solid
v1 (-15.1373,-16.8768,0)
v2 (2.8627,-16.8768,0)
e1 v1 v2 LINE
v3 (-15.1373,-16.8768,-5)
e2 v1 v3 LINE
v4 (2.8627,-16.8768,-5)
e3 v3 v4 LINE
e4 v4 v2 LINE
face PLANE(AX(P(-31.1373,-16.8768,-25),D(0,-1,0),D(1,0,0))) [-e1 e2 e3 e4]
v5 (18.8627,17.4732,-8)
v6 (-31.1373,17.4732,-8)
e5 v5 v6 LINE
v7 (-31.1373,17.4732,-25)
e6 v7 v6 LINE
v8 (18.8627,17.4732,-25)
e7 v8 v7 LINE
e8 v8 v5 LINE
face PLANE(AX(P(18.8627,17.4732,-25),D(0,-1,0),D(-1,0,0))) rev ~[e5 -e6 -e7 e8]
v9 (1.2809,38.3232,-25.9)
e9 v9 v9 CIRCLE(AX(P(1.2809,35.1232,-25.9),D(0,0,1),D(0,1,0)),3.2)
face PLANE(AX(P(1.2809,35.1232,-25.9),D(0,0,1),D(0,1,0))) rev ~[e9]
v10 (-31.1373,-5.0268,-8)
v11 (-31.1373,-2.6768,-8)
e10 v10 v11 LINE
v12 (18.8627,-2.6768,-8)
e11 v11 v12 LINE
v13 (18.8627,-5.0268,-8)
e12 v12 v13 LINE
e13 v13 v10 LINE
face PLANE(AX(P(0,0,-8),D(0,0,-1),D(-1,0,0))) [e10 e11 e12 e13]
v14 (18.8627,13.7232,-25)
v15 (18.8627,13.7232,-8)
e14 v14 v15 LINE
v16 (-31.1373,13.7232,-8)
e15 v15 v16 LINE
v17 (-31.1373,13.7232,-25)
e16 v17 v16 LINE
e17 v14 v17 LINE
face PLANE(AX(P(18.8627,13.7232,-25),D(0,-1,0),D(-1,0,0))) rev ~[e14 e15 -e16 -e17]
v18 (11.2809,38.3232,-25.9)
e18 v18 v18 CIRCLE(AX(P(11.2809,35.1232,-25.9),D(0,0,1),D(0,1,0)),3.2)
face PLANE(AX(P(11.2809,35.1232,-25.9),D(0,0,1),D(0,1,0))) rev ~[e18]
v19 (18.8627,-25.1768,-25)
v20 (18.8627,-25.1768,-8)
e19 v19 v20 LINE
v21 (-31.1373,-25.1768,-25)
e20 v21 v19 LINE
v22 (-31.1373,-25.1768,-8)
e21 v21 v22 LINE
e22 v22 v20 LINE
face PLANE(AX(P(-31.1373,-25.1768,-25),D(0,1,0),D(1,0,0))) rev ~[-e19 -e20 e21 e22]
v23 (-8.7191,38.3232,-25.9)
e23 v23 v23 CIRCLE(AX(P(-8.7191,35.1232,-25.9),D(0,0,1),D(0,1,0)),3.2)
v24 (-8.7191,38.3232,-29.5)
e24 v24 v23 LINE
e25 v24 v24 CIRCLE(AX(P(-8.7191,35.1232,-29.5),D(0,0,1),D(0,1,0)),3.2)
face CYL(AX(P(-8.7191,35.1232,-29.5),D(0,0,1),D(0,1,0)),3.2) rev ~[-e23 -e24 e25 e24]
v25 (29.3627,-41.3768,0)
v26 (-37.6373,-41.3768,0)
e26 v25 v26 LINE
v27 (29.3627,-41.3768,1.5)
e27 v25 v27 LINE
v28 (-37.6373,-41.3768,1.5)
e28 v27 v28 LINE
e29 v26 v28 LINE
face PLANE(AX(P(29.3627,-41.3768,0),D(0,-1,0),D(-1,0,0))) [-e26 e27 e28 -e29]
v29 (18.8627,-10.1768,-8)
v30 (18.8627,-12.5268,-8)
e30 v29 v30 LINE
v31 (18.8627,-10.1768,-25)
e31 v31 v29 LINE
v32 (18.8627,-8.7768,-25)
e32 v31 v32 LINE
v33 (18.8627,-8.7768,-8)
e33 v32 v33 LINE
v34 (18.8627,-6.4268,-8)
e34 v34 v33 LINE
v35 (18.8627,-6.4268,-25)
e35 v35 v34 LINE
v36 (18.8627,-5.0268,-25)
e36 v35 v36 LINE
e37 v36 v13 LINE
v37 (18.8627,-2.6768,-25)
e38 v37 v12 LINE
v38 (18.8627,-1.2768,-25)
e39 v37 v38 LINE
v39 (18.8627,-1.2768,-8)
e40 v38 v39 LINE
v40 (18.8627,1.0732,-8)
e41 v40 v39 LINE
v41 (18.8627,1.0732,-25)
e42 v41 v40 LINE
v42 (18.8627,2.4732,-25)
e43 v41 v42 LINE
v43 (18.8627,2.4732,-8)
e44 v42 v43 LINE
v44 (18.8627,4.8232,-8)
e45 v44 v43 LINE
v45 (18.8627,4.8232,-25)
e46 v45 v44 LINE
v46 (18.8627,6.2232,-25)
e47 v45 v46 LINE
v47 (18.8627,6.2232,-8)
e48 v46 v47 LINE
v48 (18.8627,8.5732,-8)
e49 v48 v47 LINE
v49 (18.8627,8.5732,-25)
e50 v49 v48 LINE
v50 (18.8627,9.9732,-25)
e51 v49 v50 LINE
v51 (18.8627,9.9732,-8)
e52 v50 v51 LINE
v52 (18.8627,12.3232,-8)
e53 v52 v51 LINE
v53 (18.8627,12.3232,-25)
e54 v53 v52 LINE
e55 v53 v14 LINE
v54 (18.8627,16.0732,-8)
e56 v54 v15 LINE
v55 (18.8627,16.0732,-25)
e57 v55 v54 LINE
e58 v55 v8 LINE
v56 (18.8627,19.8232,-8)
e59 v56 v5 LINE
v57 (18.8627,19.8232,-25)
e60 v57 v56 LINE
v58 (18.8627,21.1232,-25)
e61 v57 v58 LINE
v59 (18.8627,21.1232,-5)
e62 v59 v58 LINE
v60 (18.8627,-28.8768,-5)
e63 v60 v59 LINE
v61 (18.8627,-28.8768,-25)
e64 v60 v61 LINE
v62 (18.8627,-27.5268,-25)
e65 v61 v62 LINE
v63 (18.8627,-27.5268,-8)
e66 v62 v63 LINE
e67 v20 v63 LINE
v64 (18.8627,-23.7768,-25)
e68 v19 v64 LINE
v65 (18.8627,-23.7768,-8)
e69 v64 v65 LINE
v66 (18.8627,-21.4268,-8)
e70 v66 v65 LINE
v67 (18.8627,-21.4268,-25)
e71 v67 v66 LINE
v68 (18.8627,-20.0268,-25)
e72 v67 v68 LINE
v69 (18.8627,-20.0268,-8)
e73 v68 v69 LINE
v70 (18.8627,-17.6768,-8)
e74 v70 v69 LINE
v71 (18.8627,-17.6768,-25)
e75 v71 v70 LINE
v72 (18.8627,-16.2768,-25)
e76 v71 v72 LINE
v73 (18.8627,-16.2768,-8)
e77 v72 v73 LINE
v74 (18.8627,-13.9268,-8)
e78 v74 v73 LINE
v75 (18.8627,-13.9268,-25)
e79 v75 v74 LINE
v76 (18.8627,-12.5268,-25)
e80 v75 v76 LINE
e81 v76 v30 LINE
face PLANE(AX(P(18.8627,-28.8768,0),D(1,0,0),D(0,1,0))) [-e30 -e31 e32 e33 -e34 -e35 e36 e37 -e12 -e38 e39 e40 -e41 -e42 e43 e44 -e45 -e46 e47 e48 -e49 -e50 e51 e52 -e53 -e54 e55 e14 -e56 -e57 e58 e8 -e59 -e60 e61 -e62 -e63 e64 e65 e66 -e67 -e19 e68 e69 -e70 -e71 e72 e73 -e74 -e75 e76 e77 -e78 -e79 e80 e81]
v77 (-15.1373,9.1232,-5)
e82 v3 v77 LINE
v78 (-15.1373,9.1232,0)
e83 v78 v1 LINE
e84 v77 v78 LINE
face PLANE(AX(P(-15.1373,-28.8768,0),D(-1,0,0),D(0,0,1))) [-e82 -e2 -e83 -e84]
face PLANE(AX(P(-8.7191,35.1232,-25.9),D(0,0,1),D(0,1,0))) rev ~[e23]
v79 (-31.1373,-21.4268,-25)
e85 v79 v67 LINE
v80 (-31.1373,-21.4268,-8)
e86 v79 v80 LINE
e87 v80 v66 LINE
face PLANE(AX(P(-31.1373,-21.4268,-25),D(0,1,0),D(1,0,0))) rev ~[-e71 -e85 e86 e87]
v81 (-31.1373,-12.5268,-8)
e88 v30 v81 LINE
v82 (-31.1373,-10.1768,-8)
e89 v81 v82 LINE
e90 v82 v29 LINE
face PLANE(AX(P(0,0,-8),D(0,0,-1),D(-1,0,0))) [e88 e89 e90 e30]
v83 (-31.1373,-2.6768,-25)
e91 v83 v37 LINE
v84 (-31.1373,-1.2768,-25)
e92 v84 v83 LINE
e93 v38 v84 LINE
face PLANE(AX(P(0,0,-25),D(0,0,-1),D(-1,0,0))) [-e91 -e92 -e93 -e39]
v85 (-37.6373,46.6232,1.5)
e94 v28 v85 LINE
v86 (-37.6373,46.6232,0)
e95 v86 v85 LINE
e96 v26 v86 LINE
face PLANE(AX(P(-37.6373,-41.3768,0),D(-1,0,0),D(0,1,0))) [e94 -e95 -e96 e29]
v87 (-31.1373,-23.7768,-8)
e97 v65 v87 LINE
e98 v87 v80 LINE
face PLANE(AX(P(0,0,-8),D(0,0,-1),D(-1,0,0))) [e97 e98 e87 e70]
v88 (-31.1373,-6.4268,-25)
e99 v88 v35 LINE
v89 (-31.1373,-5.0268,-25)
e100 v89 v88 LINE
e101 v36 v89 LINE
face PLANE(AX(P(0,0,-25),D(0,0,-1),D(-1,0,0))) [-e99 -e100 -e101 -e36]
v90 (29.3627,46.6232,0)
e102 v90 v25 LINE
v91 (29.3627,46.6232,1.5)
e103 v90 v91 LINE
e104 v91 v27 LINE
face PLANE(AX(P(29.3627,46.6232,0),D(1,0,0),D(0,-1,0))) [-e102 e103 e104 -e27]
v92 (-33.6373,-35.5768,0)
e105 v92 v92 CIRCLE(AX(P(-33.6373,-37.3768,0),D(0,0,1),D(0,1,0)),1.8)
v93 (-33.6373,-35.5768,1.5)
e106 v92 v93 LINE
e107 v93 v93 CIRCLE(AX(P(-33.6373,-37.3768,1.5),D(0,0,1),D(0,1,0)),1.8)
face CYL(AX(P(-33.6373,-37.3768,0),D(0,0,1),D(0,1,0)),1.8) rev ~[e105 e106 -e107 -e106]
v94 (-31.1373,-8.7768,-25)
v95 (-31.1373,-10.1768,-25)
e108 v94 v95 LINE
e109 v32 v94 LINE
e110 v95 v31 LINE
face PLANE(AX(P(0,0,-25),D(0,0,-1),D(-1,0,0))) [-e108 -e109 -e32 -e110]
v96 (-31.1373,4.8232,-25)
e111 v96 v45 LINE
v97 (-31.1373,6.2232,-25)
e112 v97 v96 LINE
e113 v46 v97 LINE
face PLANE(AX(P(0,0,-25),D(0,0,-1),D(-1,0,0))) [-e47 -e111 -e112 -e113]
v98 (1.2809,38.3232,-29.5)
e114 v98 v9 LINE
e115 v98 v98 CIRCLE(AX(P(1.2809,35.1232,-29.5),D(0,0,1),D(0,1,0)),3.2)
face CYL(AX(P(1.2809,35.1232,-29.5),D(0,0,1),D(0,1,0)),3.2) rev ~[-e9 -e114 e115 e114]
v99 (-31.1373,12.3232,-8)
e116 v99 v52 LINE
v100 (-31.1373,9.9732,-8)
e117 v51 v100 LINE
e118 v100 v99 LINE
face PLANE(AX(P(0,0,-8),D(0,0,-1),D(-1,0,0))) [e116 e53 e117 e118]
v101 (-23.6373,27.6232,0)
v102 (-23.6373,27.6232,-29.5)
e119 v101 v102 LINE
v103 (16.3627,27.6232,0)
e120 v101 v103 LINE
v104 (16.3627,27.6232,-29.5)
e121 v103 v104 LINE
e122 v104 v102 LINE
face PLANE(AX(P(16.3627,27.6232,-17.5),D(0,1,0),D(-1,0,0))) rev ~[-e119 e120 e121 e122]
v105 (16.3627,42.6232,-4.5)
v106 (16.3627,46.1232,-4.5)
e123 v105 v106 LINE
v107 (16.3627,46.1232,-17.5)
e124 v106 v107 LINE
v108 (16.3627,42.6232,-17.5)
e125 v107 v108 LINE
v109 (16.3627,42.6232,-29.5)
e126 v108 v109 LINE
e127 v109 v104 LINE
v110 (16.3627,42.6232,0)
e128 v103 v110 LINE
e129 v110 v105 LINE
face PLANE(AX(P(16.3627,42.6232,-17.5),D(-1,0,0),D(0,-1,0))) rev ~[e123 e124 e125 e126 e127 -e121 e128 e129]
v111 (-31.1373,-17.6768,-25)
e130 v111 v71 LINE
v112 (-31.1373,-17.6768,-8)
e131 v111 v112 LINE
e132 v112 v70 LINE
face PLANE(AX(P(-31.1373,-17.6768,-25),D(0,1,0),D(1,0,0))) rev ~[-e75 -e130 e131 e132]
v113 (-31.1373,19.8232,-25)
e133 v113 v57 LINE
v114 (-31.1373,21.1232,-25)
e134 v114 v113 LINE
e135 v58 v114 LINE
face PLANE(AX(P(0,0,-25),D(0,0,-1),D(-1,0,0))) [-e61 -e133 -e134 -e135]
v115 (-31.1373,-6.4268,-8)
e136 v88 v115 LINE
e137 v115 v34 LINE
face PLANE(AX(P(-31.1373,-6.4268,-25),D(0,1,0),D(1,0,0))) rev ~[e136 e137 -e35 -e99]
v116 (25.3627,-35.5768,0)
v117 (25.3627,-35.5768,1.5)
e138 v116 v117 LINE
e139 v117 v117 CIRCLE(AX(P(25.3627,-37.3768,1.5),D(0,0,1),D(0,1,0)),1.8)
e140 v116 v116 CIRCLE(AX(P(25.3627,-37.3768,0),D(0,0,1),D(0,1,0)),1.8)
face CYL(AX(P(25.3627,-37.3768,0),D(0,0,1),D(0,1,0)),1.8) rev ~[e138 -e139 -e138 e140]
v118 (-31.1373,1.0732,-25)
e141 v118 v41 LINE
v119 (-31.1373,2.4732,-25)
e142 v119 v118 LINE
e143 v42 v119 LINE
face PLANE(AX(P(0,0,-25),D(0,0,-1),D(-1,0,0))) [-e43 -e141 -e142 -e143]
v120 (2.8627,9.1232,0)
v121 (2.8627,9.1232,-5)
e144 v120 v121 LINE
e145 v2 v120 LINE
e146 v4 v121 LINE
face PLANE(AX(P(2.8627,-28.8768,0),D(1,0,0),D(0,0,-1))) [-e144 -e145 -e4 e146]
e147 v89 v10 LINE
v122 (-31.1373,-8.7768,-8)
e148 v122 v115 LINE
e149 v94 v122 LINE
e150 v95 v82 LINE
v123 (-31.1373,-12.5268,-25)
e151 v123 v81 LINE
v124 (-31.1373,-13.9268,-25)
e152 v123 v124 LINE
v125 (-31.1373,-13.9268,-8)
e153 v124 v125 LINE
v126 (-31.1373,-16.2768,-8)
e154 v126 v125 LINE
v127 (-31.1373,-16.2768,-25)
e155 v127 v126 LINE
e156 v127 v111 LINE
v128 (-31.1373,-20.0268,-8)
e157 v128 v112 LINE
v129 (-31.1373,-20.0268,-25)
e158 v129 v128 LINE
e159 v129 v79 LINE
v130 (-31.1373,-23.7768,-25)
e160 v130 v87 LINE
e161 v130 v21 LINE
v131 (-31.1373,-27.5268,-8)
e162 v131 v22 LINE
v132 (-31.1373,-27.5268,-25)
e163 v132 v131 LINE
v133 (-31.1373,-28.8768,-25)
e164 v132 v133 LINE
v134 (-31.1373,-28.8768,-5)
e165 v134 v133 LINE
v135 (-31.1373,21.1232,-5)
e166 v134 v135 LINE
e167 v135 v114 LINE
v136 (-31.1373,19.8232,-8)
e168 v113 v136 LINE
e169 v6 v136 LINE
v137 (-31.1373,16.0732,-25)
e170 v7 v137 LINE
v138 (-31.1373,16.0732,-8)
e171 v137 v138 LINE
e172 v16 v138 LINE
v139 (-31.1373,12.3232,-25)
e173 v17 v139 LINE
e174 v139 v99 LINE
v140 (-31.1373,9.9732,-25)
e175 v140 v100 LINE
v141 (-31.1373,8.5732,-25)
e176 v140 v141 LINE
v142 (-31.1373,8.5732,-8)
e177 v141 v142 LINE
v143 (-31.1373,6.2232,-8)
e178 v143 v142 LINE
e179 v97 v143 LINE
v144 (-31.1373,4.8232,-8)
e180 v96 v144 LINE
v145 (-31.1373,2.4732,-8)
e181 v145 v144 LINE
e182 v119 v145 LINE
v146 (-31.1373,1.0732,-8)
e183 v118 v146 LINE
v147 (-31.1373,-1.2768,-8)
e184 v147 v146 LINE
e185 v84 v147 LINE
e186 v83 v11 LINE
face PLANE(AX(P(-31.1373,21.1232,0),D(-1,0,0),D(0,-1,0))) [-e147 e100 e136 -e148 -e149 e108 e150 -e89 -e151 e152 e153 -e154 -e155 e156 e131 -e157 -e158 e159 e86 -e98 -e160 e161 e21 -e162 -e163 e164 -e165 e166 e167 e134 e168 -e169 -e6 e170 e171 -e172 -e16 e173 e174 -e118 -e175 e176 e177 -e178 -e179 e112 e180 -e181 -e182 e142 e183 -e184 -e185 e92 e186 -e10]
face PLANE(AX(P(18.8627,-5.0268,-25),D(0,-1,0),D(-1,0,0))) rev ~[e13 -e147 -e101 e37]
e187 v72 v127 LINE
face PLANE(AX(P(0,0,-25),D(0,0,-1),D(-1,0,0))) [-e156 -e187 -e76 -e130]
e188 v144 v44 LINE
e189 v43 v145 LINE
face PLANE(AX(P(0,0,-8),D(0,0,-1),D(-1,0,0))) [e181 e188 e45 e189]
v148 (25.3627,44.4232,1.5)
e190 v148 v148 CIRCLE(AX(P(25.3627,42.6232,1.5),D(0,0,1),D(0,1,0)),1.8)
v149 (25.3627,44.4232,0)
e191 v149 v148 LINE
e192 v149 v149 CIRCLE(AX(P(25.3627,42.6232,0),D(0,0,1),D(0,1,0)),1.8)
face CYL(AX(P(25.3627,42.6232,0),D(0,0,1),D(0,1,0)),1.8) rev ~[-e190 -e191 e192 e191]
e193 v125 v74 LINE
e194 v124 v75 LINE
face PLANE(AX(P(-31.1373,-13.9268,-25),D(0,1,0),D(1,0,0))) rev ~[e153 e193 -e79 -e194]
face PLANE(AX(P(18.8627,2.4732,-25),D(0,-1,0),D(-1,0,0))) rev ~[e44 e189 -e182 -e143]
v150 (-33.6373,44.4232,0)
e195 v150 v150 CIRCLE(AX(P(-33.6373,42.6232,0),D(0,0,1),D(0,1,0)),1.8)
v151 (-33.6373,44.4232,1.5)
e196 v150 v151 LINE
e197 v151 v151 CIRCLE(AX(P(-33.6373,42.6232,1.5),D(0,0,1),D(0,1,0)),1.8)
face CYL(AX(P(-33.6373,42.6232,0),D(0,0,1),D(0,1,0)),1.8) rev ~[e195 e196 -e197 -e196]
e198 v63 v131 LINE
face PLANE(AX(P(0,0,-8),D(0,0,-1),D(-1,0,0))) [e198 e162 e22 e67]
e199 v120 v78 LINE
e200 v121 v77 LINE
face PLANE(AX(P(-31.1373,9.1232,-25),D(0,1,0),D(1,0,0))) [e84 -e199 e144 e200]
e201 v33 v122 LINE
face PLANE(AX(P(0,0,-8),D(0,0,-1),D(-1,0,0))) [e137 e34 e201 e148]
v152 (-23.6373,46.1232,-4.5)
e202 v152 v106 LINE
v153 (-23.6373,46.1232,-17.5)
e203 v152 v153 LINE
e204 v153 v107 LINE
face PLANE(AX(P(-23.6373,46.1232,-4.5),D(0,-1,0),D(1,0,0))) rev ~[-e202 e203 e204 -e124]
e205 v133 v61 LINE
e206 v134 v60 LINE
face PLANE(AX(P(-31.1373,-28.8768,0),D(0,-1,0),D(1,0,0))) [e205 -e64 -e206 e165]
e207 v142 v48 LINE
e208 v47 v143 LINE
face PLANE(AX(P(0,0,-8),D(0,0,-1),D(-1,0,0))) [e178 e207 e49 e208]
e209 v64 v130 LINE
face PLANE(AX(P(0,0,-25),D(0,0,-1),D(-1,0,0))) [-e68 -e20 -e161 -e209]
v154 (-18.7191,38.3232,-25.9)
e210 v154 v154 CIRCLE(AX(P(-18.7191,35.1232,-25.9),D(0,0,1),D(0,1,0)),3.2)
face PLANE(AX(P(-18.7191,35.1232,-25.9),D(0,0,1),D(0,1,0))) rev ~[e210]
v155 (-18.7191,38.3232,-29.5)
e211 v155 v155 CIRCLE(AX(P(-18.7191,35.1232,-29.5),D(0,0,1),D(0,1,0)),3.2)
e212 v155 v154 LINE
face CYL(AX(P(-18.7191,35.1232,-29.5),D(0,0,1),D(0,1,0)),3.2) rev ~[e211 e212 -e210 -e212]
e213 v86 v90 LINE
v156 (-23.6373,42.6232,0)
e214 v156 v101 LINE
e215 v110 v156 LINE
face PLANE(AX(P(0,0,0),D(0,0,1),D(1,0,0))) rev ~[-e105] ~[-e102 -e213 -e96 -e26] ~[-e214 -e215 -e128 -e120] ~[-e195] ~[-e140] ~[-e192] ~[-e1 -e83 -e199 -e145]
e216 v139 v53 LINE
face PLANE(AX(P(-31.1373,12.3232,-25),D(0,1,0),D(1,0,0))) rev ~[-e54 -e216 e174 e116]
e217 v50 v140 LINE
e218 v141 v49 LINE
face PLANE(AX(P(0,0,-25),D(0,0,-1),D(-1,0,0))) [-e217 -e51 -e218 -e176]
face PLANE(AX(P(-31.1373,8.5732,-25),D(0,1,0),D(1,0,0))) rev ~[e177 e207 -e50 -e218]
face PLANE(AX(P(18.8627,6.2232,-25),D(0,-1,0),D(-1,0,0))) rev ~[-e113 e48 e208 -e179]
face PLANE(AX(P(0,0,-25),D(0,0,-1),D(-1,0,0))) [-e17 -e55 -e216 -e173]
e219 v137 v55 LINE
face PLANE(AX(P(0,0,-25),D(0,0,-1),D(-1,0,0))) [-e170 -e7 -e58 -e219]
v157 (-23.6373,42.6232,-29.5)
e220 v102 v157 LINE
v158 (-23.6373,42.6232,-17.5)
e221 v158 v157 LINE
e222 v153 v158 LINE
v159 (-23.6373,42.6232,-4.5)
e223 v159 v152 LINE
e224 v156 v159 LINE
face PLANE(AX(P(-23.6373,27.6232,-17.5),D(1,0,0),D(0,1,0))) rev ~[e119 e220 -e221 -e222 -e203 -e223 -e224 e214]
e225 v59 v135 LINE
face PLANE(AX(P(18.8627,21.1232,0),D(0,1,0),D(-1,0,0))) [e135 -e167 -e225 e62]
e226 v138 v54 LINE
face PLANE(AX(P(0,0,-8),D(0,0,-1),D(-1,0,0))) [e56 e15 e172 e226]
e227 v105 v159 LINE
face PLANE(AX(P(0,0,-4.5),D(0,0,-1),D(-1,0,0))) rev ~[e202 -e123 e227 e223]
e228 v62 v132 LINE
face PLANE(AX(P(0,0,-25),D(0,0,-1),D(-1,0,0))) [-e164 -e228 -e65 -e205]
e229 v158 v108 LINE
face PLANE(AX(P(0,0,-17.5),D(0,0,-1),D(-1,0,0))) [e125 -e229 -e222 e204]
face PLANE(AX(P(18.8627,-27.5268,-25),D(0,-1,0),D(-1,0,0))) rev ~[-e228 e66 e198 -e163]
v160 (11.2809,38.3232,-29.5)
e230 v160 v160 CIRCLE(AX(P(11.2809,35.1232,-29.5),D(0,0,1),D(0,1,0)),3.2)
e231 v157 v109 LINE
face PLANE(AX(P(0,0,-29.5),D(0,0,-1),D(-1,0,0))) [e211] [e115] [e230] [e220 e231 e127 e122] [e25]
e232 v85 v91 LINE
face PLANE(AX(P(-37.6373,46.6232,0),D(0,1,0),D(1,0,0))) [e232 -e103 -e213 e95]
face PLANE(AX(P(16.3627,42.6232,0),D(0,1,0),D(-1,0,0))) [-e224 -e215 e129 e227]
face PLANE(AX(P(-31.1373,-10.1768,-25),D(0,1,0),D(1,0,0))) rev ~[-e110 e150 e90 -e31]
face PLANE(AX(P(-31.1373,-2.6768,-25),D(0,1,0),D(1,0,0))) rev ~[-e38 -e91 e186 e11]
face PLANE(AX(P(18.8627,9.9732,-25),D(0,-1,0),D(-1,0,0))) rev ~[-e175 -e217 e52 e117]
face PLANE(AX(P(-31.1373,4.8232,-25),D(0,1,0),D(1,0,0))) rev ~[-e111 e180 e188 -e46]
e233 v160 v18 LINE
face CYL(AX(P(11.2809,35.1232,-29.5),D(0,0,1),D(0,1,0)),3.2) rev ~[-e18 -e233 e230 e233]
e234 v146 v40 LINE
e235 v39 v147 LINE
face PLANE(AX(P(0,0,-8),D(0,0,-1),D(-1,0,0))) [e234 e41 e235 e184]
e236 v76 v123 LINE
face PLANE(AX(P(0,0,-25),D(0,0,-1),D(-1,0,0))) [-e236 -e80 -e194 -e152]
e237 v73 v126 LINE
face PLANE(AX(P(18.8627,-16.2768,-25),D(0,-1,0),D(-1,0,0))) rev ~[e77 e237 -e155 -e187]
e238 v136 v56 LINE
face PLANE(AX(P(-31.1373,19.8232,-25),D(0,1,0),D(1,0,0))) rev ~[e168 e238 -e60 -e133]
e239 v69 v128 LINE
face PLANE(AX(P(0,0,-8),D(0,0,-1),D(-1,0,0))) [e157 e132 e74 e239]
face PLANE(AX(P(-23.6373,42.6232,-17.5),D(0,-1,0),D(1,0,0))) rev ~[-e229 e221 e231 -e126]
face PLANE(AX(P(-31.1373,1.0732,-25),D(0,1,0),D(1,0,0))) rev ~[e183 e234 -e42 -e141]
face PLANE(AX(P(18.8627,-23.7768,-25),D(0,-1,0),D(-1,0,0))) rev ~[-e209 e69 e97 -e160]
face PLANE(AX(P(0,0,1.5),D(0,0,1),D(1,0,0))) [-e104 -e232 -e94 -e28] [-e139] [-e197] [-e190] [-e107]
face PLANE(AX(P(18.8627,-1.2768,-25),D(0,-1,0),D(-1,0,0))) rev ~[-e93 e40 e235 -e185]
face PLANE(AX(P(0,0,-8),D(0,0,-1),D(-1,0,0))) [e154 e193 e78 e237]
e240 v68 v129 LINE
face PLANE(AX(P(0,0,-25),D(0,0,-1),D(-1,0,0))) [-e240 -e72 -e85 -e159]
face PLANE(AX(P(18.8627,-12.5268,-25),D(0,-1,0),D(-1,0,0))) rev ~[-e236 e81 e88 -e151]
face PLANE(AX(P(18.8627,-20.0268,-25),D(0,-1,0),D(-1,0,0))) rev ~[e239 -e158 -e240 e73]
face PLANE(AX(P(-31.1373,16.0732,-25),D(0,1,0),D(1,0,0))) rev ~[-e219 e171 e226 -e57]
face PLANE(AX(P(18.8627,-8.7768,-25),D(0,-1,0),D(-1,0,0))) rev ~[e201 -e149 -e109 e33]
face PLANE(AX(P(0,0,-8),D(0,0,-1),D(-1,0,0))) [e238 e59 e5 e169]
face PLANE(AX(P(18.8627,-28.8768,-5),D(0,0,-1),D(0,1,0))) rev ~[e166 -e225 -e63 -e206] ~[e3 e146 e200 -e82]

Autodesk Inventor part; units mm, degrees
ref_plane "YZ Plane" through (0, 0, 0) normal (1, 0, 0) x (0, 1, 0)
ref_plane "XZ Plane" through (0, 0, 0) normal (0, 1, 0) x (-1, 0, 0)
ref_plane "XY Plane" through (0, 0, 0) normal (0, 0, 1) x (1, 0, 0)
sketch "Szkic1" plane through (0, 0, 0) normal (0, 0, 1) x (1, 0, 0)
  line L0 (-37.6373, 46.6232) -> (29.3627, 46.6232)
  line L1 (29.3627, 46.6232) -> (29.3627, -41.3768)
  line L2 (29.3627, -41.3768) -> (-37.6373, -41.3768)
  line L3 (-37.6373, -41.3768) -> (-37.6373, 46.6232)
  point P0 (0, 0)
  point P1 (-33.6373, 42.6232)
  point P2 (25.3627, 42.6232)
  point P3 (25.3627, -37.3768)
  point P4 (-33.6373, -37.3768)
  dimension "d0" = 88
  dimension "d1" = 67
  dimension "d2" = 59
  dimension "d3" = 80
  dimension "d4" = 80
  dimension "d5" = 59
  dimension "d6" = 4
  dimension "d7" = 4
  dimension "d8" = 4
  dimension "d9" = 4
  dimension "d10" = 4
  dimension "d11" = 4
  dimension "d12" = 4
extrude "Wyciągnięcie proste1" add sketch "Szkic1" along normal blind 1.5
hole "Otwór1" at (-33.6373, 42.6232, 0) at (25.3627, 42.6232, 0) at (25.3627, -37.3768, 0) at (-33.6373, -37.3768, 0) direction (0, 0, 1) diameter 3.6 end through all
sketch "Szkic2" plane through (0, 0, 0) normal (0, 0, -1) x (-1, 0, 0)
  line L0 (-18.8627, 21.1232) -> (31.1373, 21.1232)
  line L1 (31.1373, 21.1232) -> (31.1373, -28.8768)
  line L2 (31.1373, -28.8768) -> (-18.8627, -28.8768)
  line L3 (-18.8627, -28.8768) -> (-18.8627, 21.1232)
  circle A0 centre (-25.3627, -37.3768) radius 1.8 projected
  circle A1 centre (33.6373, 42.6232) radius 1.8 projected
  circle A2 centre (-25.3627, 42.6232) radius 1.8 projected
  circle A3 centre (33.6373, -37.3768) radius 1.8 projected
  line L4 (37.6373, 46.6232) -> (-29.3627, 46.6232) projected
  line L5 (-29.3627, 46.6232) -> (-29.3627, -41.3768) projected
  line L6 (-29.3627, -41.3768) -> (37.6373, -41.3768) projected
  line L7 (37.6373, -41.3768) -> (37.6373, 46.6232) projected
  line L8 (-16.3627, 42.6232) -> (23.6373, 42.6232)
  line L9 (23.6373, 42.6232) -> (23.6373, 27.6232)
  line L10 (23.6373, 27.6232) -> (-16.3627, 27.6232)
  line L11 (-16.3627, 27.6232) -> (-16.3627, 42.6232)
  point P0 (0, 0)
  dimension "d22" = 50
  dimension "d23" = 50
  dimension "d24" = 6.5
  dimension "d25" = 12.5
  dimension "d26" = 40
  dimension "d27" = 15
  dimension "d28" = 13
  dimension "d29" = 4
extrude "Wyciągnięcie proste2" add sketch "Szkic2" along normal blind 25 contours L0 L1 L2 L3
sketch "Szkic3" plane through (0, 0, -25) normal (0, 0, -1) x (-1, 0, 0)
  line L0 (31.1373, 21.1232) -> (-18.8627, 21.1232) projected
  line L1 (-18.8627, 21.1232) -> (-18.8627, -28.8768) projected
  line L2 (-18.8627, -28.8768) -> (31.1373, -28.8768) projected
  line L3 (31.1373, -28.8768) -> (31.1373, 21.1232) projected
  line L4 (-18.8627, -28.8768) -> (-18.8627, 21.1232) projected
  line L5 (-18.8627, -27.5268) -> (31.1373, -27.5268)
  line L6 (31.1373, -27.5268) -> (31.1373, -25.1768)
  line L7 (31.1373, -25.1768) -> (-18.8627, -25.1768)
  line L8 (-18.8627, -25.1768) -> (-18.8627, -27.5268)
  line L9 (-18.8627, -23.7768) -> (31.1373, -23.7768)
  line L10 (31.1373, -23.7768) -> (31.1373, -21.4268)
  line L11 (31.1373, -21.4268) -> (-18.8627, -21.4268)
  line L12 (-18.8627, -21.4268) -> (-18.8627, -23.7768)
  line L13 (-18.8627, -20.0268) -> (31.1373, -20.0268)
  line L14 (31.1373, -20.0268) -> (31.1373, -17.6768)
  line L15 (31.1373, -17.6768) -> (-18.8627, -17.6768)
  line L16 (-18.8627, -17.6768) -> (-18.8627, -20.0268)
  line L17 (-18.8627, -16.2768) -> (31.1373, -16.2768)
  line L18 (31.1373, -16.2768) -> (31.1373, -13.9268)
  line L19 (31.1373, -13.9268) -> (-18.8627, -13.9268)
  line L20 (-18.8627, -13.9268) -> (-18.8627, -16.2768)
  line L21 (-18.8627, -12.5268) -> (31.1373, -12.5268)
  line L22 (31.1373, -12.5268) -> (31.1373, -10.1768)
  line L23 (31.1373, -10.1768) -> (-18.8627, -10.1768)
  line L24 (-18.8627, -10.1768) -> (-18.8627, -12.5268)
  line L25 (-18.8627, -8.7768) -> (31.1373, -8.7768)
  line L26 (31.1373, -8.7768) -> (31.1373, -6.4268)
  line L27 (31.1373, -6.4268) -> (-18.8627, -6.4268)
  line L28 (-18.8627, -6.4268) -> (-18.8627, -8.7768)
  line L29 (-18.8627, -5.0268) -> (31.1373, -5.0268)
  line L30 (31.1373, -5.0268) -> (31.1373, -2.6768)
  line L31 (31.1373, -2.6768) -> (-18.8627, -2.6768)
  line L32 (-18.8627, -2.6768) -> (-18.8627, -5.0268)
  line L33 (-18.8627, -1.2768) -> (31.1373, -1.2768)
  line L34 (31.1373, -1.2768) -> (31.1373, 1.0732)
  line L35 (31.1373, 1.0732) -> (-18.8627, 1.0732)
  line L36 (-18.8627, 1.0732) -> (-18.8627, -1.2768)
  line L37 (-18.8627, 2.4732) -> (31.1373, 2.4732)
  line L38 (31.1373, 2.4732) -> (31.1373, 4.8232)
  line L39 (31.1373, 4.8232) -> (-18.8627, 4.8232)
  line L40 (-18.8627, 4.8232) -> (-18.8627, 2.4732)
  line L41 (-18.8627, 6.2232) -> (31.1373, 6.2232)
  line L42 (31.1373, 6.2232) -> (31.1373, 8.5732)
  line L43 (31.1373, 8.5732) -> (-18.8627, 8.5732)
  line L44 (-18.8627, 8.5732) -> (-18.8627, 6.2232)
  line L45 (-18.8627, 9.9732) -> (31.1373, 9.9732)
  line L46 (31.1373, 9.9732) -> (31.1373, 12.3232)
  line L47 (31.1373, 12.3232) -> (-18.8627, 12.3232)
  line L48 (-18.8627, 12.3232) -> (-18.8627, 9.9732)
  line L49 (-18.8627, 13.7232) -> (31.1373, 13.7232)
  line L50 (31.1373, 13.7232) -> (31.1373, 16.0732)
  line L51 (31.1373, 16.0732) -> (-18.8627, 16.0732)
  line L52 (-18.8627, 16.0732) -> (-18.8627, 13.7232)
  line L53 (-18.8627, 17.4732) -> (31.1373, 17.4732)
  line L54 (31.1373, 17.4732) -> (31.1373, 19.8232)
  line L55 (31.1373, 19.8232) -> (-18.8627, 19.8232)
  line L56 (-18.8627, 19.8232) -> (-18.8627, 17.4732)
  point P0 (0, 0)
  dimension "d32" = 50
  dimension "d33" = 2.35
  dimension "d34" = 1.35
  dimension "d37" = 3.75
extrude "Wyciągnięcie proste3" cut sketch "Szkic3" against normal blind 17 contours L3 L53 L1 L55 | L3 L49 L1 L51 | L3 L45 L1 L47 | L3 L41 L1 L43 | L3 L37 L1 L39 | L3 L33 L1 L35 | L3 L29 L1 L31 | L3 L25 L1 L27 | L3 L21 L1 L23 | L3 L17 L1 L19 | L3 L13 L1 L15 | L3 L9 L1 L11 | L3 L5 L1 L7
sketch "Szkic4" plane through (-31.1373, -28.8768, 0) normal (-1, 0, 0) x (0, 0, 1)
  line L0 (-8, 42.6) -> (-25, 42.6) projected
  line L1 (-25, 41.2) -> (-25, 42.6) projected
  line L2 (-25, 41.2) -> (-8, 41.2) projected
  line L3 (-8, 41.2) -> (-8, 38.85) projected
  line L4 (-8, 38.85) -> (-25, 38.85) projected
  line L5 (-25, 37.45) -> (-25, 38.85) projected
  line L6 (-25, 37.45) -> (-8, 37.45) projected
  line L7 (-8, 37.45) -> (-8, 35.1) projected
  line L8 (-8, 35.1) -> (-25, 35.1) projected
  line L9 (-25, 33.7) -> (-25, 35.1) projected
  line L10 (-25, 33.7) -> (-8, 33.7) projected
  line L11 (-8, 33.7) -> (-8, 31.35) projected
  line L12 (-8, 31.35) -> (-25, 31.35) projected
  line L13 (-25, 29.95) -> (-25, 31.35) projected
  line L14 (-25, 29.95) -> (-8, 29.95) projected
  line L15 (-8, 29.95) -> (-8, 27.6) projected
  line L16 (-8, 27.6) -> (-25, 27.6) projected
  line L17 (-25, 26.2) -> (-25, 27.6) projected
  line L18 (-25, 26.2) -> (-8, 26.2) projected
  line L19 (-8, 26.2) -> (-8, 23.85) projected
  line L20 (-8, 23.85) -> (-25, 23.85) projected
  line L21 (-25, 22.45) -> (-25, 23.85) projected
  line L22 (-25, 22.45) -> (-8, 22.45) projected
  line L23 (-8, 22.45) -> (-8, 20.1) projected
  line L24 (-8, 20.1) -> (-25, 20.1) projected
  line L25 (-25, 18.7) -> (-25, 20.1) projected
  line L26 (-25, 18.7) -> (-8, 18.7) projected
  line L27 (-8, 18.7) -> (-8, 16.35) projected
  line L28 (-8, 16.35) -> (-25, 16.35) projected
  line L29 (-25, 14.95) -> (-25, 16.35) projected
  line L30 (-25, 14.95) -> (-8, 14.95) projected
  line L31 (-8, 14.95) -> (-8, 12.6) projected
  line L32 (-8, 12.6) -> (-25, 12.6) projected
  line L33 (-25, 11.2) -> (-25, 12.6) projected
  line L34 (-25, 11.2) -> (-8, 11.2) projected
  line L35 (-8, 11.2) -> (-8, 8.85) projected
  line L36 (-8, 8.85) -> (-25, 8.85) projected
  line L37 (-25, 7.45) -> (-25, 8.85) projected
  line L38 (-25, 7.45) -> (-8, 7.45) projected
  line L39 (-8, 7.45) -> (-8, 5.1) projected
  line L40 (-8, 5.1) -> (-25, 5.1) projected
  line L41 (-25, 3.7) -> (-25, 5.1) projected
  line L42 (-25, 3.7) -> (-8, 3.7) projected
  line L43 (-8, 3.7) -> (-8, 1.35) projected
  line L44 (-8, 1.35) -> (-25, 1.35) projected
  line L45 (-25, 0) -> (-25, 1.35) projected
  line L46 (0, 0) -> (-25, 0) projected
  line L47 (0, 50) -> (0, 0) projected
  line L48 (0, 50) -> (-25, 50) projected
  line L49 (-25, 48.7) -> (-25, 50) projected
  line L50 (-25, 48.7) -> (-8, 48.7) projected
  line L51 (-8, 48.7) -> (-8, 46.35) projected
  line L52 (-8, 46.35) -> (-25, 46.35) projected
  line L53 (-25, 44.95) -> (-25, 46.35) projected
  line L54 (-25, 44.95) -> (-8, 44.95) projected
  line L55 (-8, 44.95) -> (-8, 42.6) projected
  line L56 (0, 50) -> (0, 0) projected
  line L57 (0, 50) -> (-25, 50) projected
  line L58 (0, 0) -> (-5, 0)
  line L59 (-5, 0) -> (-5, 50)
  line L60 (-5, 50) -> (0, 50)
  line L61 (0, 50) -> (0, 0)
  point P0 (0, 28.8768)
  dimension "d44" = 5
extrude "Wyciągnięcie proste4" cut sketch "Szkic4" against normal blind 16 contours L48 L47 L46 L59
sketch "Szkic5" plane through (18.8627, -28.8768, 0) normal (1, 0, 0) x (0, 0, -1)
  line L0 (25, 42.6) -> (8, 42.6) projected
  line L1 (8, 42.6) -> (8, 44.95) projected
  line L2 (8, 44.95) -> (25, 44.95) projected
  line L3 (25, 46.35) -> (25, 44.95) projected
  line L4 (25, 46.35) -> (8, 46.35) projected
  line L5 (8, 46.35) -> (8, 48.7) projected
  line L6 (8, 48.7) -> (25, 48.7) projected
  line L7 (25, 50) -> (25, 48.7) projected
  line L8 (0, 50) -> (25, 50) projected
  line L9 (0, 0) -> (0, 50) projected
  line L10 (0, 0) -> (25, 0) projected
  line L11 (25, 1.35) -> (25, 0) projected
  line L12 (25, 1.35) -> (8, 1.35) projected
  line L13 (8, 1.35) -> (8, 3.7) projected
  line L14 (8, 3.7) -> (25, 3.7) projected
  line L15 (25, 5.1) -> (25, 3.7) projected
  line L16 (25, 5.1) -> (8, 5.1) projected
  line L17 (8, 5.1) -> (8, 7.45) projected
  line L18 (8, 7.45) -> (25, 7.45) projected
  line L19 (25, 8.85) -> (25, 7.45) projected
  line L20 (25, 8.85) -> (8, 8.85) projected
  line L21 (8, 8.85) -> (8, 11.2) projected
  line L22 (8, 11.2) -> (25, 11.2) projected
  line L23 (25, 12.6) -> (25, 11.2) projected
  line L24 (25, 12.6) -> (8, 12.6) projected
  line L25 (8, 12.6) -> (8, 14.95) projected
  line L26 (8, 14.95) -> (25, 14.95) projected
  line L27 (25, 16.35) -> (25, 14.95) projected
  line L28 (25, 16.35) -> (8, 16.35) projected
  line L29 (8, 16.35) -> (8, 18.7) projected
  line L30 (8, 18.7) -> (25, 18.7) projected
  line L31 (25, 20.1) -> (25, 18.7) projected
  line L32 (25, 20.1) -> (8, 20.1) projected
  line L33 (8, 20.1) -> (8, 22.45) projected
  line L34 (8, 22.45) -> (25, 22.45) projected
  line L35 (25, 23.85) -> (25, 22.45) projected
  line L36 (25, 23.85) -> (8, 23.85) projected
  line L37 (8, 23.85) -> (8, 26.2) projected
  line L38 (8, 26.2) -> (25, 26.2) projected
  line L39 (25, 27.6) -> (25, 26.2) projected
  line L40 (25, 27.6) -> (8, 27.6) projected
  line L41 (8, 27.6) -> (8, 29.95) projected
  line L42 (8, 29.95) -> (25, 29.95) projected
  line L43 (25, 31.35) -> (25, 29.95) projected
  line L44 (25, 31.35) -> (8, 31.35) projected
  line L45 (8, 31.35) -> (8, 33.7) projected
  line L46 (8, 33.7) -> (25, 33.7) projected
  line L47 (25, 35.1) -> (25, 33.7) projected
  line L48 (25, 35.1) -> (8, 35.1) projected
  line L49 (8, 35.1) -> (8, 37.45) projected
  line L50 (8, 37.45) -> (25, 37.45) projected
  line L51 (25, 38.85) -> (25, 37.45) projected
  line L52 (25, 38.85) -> (8, 38.85) projected
  line L53 (8, 38.85) -> (8, 41.2) projected
  line L54 (8, 41.2) -> (25, 41.2) projected
  line L55 (25, 42.6) -> (25, 41.2) projected
  line L56 (5, 0) -> (5, 50) projected
  point P0 (0, 28.8768)
extrude "Wyciągnięcie proste5" cut sketch "Szkic5" against normal blind 16 contours L56 L10 L9 L8
sketch "Szkic6" plane through (-31.1373, 21.1232, -25) normal (0, 1, 0) x (1, 0, 0)
  line L0 (34, -25) -> (34, -20) projected
  line L1 (34, -20) -> (50, -20) projected
  line L2 (50, -20) -> (50, 0) projected
  line L3 (0, 0) -> (50, 0) projected
  line L4 (0, -20) -> (0, 0) projected
  line L5 (0, -20) -> (16, -20) projected
  line L6 (16, -20) -> (16, -25) projected
  line L7 (34, -25) -> (16, -25) projected
  line L8 (16, -25) -> (16, -20) projected
  line L9 (34, -20) -> (50, -20) projected
  line L10 (16, -25) -> (34, -25)
  line L11 (34, -25) -> (34, -20)
  line L12 (34, -20) -> (16, -20)
  line L13 (16, -20) -> (16, -25)
  point P0 (31.1373, -25)
extrude "Wyciągnięcie proste6" cut sketch "Szkic6" against normal blind 12 contours L7 L6 L12 L0
sketch "Szkic7" plane through (-31.1373, -28.8768, -25) normal (0, -1, 0) x (1, 0, 0)
  line L0 (34, 20) -> (34, 25) projected
  line L1 (16, 25) -> (34, 25) projected
  line L2 (16, 25) -> (16, 20) projected
  line L3 (16, 20) -> (0, 20) projected
  line L4 (0, 20) -> (0, 0) projected
  line L5 (50, 0) -> (0, 0) projected
  line L6 (50, 20) -> (50, 0) projected
  line L7 (50, 20) -> (34, 20) projected
  line L8 (16, 20) -> (34, 20) projected
  point P0 (31.1373, 25)
extrude "Wyciągnięcie proste7" cut sketch "Szkic7" against normal blind 12 contours L8 L2 L1 L0
extrude "Wyciągnięcie proste8" add sketch "Szkic2" along normal blind 4.5 contours L8 L9 L10 L11
sketch "Szkic8" plane through (0, 0, -4.5) normal (0, 0, -1) x (-1, 0, 0)
  line L0 (23.6373, 42.6232) -> (-16.3627, 42.6232) projected
  line L1 (-16.3627, 42.6232) -> (-16.3627, 27.6232) projected
  line L2 (-16.3627, 27.6232) -> (23.6373, 27.6232) projected
  line L3 (23.6373, 27.6232) -> (23.6373, 42.6232) projected
  line L4 (-16.3627, 27.6232) -> (23.6373, 27.6232)
  line L5 (23.6373, 27.6232) -> (23.6373, 46.1232)
  line L6 (23.6373, 46.1232) -> (-16.3627, 46.1232)
  line L7 (-16.3627, 46.1232) -> (-16.3627, 27.6232)
  point P0 (0, 0)
  dimension "d55" = 40
  dimension "d56" = 18.5
extrude "Wyciągnięcie proste9" add sketch "Szkic8" along normal blind 13
sketch "Szkic9" plane through (0, 0, -17.5) normal (0, 0, -1) x (-1, 0, 0)
  line L0 (-16.3627, 27.6232) -> (23.6373, 27.6232) projected
  line L1 (23.6373, 27.6232) -> (23.6373, 46.1232) projected
  line L2 (23.6373, 46.1232) -> (-16.3627, 46.1232) projected
  line L3 (-16.3627, 46.1232) -> (-16.3627, 27.6232) projected
  line L4 (23.6373, 42.6232) -> (-16.3627, 42.6232) projected
  point P0 (0, 0)
extrude "Wyciągnięcie proste10" add sketch "Szkic9" along normal blind 12 contours L3 L4 L1 L0
sketch "Szkic10" plane through (0, 0, -29.5) normal (0, 0, -1) x (-1, 0, 0)
  line L0 (-16.3627, 27.6232) -> (23.6373, 27.6232) projected
  line L1 (23.6373, 27.6232) -> (23.6373, 42.6232) projected
  line L2 (23.6373, 42.6232) -> (-16.3627, 42.6232) projected
  line L3 (-16.3627, 42.6232) -> (-16.3627, 27.6232) projected
  point P0 (0, 0)
  point P1 (18.7191, 35.1232)
  point P2 (8.7191, 35.1232)
  point P3 (-1.2809, 35.1232)
  point P4 (-11.2809, 35.1232)
  dimension "d61" = 15
  dimension "d62" = 7.5
  dimension "d63" = 7.5
  dimension "d64" = 7.5
  dimension "d65" = 7.5
  dimension "d66" = 10
  dimension "d67" = 10
  dimension "d68" = 10
hole "Otwór2" at (-18.7191, 35.1232, -29.5) at (-8.7191, 35.1232, -29.5) at (1.2809, 35.1232, -29.5) at (11.2809, 35.1232, -29.5) direction (0, 0, 1) diameter 6.4 depth 3.6
equation "\"d4\" = d3"
equation "\"d5\" = d2"
equation "\"d6\" = -0.5 * d5 + 0.5 * d1"
equation "\"d7\" = -0.5 * d4 + 0.5 * d0"
equation "\"d8\" = d6"
equation "\"d9\" = d7"
equation "\"d64\" = d62"
equation "\"d67\" = d66"
equation "\"d68\" = d66"
properties part number "COTS_Generic_MKS_Mosfet_Module_For_Heatbed"
